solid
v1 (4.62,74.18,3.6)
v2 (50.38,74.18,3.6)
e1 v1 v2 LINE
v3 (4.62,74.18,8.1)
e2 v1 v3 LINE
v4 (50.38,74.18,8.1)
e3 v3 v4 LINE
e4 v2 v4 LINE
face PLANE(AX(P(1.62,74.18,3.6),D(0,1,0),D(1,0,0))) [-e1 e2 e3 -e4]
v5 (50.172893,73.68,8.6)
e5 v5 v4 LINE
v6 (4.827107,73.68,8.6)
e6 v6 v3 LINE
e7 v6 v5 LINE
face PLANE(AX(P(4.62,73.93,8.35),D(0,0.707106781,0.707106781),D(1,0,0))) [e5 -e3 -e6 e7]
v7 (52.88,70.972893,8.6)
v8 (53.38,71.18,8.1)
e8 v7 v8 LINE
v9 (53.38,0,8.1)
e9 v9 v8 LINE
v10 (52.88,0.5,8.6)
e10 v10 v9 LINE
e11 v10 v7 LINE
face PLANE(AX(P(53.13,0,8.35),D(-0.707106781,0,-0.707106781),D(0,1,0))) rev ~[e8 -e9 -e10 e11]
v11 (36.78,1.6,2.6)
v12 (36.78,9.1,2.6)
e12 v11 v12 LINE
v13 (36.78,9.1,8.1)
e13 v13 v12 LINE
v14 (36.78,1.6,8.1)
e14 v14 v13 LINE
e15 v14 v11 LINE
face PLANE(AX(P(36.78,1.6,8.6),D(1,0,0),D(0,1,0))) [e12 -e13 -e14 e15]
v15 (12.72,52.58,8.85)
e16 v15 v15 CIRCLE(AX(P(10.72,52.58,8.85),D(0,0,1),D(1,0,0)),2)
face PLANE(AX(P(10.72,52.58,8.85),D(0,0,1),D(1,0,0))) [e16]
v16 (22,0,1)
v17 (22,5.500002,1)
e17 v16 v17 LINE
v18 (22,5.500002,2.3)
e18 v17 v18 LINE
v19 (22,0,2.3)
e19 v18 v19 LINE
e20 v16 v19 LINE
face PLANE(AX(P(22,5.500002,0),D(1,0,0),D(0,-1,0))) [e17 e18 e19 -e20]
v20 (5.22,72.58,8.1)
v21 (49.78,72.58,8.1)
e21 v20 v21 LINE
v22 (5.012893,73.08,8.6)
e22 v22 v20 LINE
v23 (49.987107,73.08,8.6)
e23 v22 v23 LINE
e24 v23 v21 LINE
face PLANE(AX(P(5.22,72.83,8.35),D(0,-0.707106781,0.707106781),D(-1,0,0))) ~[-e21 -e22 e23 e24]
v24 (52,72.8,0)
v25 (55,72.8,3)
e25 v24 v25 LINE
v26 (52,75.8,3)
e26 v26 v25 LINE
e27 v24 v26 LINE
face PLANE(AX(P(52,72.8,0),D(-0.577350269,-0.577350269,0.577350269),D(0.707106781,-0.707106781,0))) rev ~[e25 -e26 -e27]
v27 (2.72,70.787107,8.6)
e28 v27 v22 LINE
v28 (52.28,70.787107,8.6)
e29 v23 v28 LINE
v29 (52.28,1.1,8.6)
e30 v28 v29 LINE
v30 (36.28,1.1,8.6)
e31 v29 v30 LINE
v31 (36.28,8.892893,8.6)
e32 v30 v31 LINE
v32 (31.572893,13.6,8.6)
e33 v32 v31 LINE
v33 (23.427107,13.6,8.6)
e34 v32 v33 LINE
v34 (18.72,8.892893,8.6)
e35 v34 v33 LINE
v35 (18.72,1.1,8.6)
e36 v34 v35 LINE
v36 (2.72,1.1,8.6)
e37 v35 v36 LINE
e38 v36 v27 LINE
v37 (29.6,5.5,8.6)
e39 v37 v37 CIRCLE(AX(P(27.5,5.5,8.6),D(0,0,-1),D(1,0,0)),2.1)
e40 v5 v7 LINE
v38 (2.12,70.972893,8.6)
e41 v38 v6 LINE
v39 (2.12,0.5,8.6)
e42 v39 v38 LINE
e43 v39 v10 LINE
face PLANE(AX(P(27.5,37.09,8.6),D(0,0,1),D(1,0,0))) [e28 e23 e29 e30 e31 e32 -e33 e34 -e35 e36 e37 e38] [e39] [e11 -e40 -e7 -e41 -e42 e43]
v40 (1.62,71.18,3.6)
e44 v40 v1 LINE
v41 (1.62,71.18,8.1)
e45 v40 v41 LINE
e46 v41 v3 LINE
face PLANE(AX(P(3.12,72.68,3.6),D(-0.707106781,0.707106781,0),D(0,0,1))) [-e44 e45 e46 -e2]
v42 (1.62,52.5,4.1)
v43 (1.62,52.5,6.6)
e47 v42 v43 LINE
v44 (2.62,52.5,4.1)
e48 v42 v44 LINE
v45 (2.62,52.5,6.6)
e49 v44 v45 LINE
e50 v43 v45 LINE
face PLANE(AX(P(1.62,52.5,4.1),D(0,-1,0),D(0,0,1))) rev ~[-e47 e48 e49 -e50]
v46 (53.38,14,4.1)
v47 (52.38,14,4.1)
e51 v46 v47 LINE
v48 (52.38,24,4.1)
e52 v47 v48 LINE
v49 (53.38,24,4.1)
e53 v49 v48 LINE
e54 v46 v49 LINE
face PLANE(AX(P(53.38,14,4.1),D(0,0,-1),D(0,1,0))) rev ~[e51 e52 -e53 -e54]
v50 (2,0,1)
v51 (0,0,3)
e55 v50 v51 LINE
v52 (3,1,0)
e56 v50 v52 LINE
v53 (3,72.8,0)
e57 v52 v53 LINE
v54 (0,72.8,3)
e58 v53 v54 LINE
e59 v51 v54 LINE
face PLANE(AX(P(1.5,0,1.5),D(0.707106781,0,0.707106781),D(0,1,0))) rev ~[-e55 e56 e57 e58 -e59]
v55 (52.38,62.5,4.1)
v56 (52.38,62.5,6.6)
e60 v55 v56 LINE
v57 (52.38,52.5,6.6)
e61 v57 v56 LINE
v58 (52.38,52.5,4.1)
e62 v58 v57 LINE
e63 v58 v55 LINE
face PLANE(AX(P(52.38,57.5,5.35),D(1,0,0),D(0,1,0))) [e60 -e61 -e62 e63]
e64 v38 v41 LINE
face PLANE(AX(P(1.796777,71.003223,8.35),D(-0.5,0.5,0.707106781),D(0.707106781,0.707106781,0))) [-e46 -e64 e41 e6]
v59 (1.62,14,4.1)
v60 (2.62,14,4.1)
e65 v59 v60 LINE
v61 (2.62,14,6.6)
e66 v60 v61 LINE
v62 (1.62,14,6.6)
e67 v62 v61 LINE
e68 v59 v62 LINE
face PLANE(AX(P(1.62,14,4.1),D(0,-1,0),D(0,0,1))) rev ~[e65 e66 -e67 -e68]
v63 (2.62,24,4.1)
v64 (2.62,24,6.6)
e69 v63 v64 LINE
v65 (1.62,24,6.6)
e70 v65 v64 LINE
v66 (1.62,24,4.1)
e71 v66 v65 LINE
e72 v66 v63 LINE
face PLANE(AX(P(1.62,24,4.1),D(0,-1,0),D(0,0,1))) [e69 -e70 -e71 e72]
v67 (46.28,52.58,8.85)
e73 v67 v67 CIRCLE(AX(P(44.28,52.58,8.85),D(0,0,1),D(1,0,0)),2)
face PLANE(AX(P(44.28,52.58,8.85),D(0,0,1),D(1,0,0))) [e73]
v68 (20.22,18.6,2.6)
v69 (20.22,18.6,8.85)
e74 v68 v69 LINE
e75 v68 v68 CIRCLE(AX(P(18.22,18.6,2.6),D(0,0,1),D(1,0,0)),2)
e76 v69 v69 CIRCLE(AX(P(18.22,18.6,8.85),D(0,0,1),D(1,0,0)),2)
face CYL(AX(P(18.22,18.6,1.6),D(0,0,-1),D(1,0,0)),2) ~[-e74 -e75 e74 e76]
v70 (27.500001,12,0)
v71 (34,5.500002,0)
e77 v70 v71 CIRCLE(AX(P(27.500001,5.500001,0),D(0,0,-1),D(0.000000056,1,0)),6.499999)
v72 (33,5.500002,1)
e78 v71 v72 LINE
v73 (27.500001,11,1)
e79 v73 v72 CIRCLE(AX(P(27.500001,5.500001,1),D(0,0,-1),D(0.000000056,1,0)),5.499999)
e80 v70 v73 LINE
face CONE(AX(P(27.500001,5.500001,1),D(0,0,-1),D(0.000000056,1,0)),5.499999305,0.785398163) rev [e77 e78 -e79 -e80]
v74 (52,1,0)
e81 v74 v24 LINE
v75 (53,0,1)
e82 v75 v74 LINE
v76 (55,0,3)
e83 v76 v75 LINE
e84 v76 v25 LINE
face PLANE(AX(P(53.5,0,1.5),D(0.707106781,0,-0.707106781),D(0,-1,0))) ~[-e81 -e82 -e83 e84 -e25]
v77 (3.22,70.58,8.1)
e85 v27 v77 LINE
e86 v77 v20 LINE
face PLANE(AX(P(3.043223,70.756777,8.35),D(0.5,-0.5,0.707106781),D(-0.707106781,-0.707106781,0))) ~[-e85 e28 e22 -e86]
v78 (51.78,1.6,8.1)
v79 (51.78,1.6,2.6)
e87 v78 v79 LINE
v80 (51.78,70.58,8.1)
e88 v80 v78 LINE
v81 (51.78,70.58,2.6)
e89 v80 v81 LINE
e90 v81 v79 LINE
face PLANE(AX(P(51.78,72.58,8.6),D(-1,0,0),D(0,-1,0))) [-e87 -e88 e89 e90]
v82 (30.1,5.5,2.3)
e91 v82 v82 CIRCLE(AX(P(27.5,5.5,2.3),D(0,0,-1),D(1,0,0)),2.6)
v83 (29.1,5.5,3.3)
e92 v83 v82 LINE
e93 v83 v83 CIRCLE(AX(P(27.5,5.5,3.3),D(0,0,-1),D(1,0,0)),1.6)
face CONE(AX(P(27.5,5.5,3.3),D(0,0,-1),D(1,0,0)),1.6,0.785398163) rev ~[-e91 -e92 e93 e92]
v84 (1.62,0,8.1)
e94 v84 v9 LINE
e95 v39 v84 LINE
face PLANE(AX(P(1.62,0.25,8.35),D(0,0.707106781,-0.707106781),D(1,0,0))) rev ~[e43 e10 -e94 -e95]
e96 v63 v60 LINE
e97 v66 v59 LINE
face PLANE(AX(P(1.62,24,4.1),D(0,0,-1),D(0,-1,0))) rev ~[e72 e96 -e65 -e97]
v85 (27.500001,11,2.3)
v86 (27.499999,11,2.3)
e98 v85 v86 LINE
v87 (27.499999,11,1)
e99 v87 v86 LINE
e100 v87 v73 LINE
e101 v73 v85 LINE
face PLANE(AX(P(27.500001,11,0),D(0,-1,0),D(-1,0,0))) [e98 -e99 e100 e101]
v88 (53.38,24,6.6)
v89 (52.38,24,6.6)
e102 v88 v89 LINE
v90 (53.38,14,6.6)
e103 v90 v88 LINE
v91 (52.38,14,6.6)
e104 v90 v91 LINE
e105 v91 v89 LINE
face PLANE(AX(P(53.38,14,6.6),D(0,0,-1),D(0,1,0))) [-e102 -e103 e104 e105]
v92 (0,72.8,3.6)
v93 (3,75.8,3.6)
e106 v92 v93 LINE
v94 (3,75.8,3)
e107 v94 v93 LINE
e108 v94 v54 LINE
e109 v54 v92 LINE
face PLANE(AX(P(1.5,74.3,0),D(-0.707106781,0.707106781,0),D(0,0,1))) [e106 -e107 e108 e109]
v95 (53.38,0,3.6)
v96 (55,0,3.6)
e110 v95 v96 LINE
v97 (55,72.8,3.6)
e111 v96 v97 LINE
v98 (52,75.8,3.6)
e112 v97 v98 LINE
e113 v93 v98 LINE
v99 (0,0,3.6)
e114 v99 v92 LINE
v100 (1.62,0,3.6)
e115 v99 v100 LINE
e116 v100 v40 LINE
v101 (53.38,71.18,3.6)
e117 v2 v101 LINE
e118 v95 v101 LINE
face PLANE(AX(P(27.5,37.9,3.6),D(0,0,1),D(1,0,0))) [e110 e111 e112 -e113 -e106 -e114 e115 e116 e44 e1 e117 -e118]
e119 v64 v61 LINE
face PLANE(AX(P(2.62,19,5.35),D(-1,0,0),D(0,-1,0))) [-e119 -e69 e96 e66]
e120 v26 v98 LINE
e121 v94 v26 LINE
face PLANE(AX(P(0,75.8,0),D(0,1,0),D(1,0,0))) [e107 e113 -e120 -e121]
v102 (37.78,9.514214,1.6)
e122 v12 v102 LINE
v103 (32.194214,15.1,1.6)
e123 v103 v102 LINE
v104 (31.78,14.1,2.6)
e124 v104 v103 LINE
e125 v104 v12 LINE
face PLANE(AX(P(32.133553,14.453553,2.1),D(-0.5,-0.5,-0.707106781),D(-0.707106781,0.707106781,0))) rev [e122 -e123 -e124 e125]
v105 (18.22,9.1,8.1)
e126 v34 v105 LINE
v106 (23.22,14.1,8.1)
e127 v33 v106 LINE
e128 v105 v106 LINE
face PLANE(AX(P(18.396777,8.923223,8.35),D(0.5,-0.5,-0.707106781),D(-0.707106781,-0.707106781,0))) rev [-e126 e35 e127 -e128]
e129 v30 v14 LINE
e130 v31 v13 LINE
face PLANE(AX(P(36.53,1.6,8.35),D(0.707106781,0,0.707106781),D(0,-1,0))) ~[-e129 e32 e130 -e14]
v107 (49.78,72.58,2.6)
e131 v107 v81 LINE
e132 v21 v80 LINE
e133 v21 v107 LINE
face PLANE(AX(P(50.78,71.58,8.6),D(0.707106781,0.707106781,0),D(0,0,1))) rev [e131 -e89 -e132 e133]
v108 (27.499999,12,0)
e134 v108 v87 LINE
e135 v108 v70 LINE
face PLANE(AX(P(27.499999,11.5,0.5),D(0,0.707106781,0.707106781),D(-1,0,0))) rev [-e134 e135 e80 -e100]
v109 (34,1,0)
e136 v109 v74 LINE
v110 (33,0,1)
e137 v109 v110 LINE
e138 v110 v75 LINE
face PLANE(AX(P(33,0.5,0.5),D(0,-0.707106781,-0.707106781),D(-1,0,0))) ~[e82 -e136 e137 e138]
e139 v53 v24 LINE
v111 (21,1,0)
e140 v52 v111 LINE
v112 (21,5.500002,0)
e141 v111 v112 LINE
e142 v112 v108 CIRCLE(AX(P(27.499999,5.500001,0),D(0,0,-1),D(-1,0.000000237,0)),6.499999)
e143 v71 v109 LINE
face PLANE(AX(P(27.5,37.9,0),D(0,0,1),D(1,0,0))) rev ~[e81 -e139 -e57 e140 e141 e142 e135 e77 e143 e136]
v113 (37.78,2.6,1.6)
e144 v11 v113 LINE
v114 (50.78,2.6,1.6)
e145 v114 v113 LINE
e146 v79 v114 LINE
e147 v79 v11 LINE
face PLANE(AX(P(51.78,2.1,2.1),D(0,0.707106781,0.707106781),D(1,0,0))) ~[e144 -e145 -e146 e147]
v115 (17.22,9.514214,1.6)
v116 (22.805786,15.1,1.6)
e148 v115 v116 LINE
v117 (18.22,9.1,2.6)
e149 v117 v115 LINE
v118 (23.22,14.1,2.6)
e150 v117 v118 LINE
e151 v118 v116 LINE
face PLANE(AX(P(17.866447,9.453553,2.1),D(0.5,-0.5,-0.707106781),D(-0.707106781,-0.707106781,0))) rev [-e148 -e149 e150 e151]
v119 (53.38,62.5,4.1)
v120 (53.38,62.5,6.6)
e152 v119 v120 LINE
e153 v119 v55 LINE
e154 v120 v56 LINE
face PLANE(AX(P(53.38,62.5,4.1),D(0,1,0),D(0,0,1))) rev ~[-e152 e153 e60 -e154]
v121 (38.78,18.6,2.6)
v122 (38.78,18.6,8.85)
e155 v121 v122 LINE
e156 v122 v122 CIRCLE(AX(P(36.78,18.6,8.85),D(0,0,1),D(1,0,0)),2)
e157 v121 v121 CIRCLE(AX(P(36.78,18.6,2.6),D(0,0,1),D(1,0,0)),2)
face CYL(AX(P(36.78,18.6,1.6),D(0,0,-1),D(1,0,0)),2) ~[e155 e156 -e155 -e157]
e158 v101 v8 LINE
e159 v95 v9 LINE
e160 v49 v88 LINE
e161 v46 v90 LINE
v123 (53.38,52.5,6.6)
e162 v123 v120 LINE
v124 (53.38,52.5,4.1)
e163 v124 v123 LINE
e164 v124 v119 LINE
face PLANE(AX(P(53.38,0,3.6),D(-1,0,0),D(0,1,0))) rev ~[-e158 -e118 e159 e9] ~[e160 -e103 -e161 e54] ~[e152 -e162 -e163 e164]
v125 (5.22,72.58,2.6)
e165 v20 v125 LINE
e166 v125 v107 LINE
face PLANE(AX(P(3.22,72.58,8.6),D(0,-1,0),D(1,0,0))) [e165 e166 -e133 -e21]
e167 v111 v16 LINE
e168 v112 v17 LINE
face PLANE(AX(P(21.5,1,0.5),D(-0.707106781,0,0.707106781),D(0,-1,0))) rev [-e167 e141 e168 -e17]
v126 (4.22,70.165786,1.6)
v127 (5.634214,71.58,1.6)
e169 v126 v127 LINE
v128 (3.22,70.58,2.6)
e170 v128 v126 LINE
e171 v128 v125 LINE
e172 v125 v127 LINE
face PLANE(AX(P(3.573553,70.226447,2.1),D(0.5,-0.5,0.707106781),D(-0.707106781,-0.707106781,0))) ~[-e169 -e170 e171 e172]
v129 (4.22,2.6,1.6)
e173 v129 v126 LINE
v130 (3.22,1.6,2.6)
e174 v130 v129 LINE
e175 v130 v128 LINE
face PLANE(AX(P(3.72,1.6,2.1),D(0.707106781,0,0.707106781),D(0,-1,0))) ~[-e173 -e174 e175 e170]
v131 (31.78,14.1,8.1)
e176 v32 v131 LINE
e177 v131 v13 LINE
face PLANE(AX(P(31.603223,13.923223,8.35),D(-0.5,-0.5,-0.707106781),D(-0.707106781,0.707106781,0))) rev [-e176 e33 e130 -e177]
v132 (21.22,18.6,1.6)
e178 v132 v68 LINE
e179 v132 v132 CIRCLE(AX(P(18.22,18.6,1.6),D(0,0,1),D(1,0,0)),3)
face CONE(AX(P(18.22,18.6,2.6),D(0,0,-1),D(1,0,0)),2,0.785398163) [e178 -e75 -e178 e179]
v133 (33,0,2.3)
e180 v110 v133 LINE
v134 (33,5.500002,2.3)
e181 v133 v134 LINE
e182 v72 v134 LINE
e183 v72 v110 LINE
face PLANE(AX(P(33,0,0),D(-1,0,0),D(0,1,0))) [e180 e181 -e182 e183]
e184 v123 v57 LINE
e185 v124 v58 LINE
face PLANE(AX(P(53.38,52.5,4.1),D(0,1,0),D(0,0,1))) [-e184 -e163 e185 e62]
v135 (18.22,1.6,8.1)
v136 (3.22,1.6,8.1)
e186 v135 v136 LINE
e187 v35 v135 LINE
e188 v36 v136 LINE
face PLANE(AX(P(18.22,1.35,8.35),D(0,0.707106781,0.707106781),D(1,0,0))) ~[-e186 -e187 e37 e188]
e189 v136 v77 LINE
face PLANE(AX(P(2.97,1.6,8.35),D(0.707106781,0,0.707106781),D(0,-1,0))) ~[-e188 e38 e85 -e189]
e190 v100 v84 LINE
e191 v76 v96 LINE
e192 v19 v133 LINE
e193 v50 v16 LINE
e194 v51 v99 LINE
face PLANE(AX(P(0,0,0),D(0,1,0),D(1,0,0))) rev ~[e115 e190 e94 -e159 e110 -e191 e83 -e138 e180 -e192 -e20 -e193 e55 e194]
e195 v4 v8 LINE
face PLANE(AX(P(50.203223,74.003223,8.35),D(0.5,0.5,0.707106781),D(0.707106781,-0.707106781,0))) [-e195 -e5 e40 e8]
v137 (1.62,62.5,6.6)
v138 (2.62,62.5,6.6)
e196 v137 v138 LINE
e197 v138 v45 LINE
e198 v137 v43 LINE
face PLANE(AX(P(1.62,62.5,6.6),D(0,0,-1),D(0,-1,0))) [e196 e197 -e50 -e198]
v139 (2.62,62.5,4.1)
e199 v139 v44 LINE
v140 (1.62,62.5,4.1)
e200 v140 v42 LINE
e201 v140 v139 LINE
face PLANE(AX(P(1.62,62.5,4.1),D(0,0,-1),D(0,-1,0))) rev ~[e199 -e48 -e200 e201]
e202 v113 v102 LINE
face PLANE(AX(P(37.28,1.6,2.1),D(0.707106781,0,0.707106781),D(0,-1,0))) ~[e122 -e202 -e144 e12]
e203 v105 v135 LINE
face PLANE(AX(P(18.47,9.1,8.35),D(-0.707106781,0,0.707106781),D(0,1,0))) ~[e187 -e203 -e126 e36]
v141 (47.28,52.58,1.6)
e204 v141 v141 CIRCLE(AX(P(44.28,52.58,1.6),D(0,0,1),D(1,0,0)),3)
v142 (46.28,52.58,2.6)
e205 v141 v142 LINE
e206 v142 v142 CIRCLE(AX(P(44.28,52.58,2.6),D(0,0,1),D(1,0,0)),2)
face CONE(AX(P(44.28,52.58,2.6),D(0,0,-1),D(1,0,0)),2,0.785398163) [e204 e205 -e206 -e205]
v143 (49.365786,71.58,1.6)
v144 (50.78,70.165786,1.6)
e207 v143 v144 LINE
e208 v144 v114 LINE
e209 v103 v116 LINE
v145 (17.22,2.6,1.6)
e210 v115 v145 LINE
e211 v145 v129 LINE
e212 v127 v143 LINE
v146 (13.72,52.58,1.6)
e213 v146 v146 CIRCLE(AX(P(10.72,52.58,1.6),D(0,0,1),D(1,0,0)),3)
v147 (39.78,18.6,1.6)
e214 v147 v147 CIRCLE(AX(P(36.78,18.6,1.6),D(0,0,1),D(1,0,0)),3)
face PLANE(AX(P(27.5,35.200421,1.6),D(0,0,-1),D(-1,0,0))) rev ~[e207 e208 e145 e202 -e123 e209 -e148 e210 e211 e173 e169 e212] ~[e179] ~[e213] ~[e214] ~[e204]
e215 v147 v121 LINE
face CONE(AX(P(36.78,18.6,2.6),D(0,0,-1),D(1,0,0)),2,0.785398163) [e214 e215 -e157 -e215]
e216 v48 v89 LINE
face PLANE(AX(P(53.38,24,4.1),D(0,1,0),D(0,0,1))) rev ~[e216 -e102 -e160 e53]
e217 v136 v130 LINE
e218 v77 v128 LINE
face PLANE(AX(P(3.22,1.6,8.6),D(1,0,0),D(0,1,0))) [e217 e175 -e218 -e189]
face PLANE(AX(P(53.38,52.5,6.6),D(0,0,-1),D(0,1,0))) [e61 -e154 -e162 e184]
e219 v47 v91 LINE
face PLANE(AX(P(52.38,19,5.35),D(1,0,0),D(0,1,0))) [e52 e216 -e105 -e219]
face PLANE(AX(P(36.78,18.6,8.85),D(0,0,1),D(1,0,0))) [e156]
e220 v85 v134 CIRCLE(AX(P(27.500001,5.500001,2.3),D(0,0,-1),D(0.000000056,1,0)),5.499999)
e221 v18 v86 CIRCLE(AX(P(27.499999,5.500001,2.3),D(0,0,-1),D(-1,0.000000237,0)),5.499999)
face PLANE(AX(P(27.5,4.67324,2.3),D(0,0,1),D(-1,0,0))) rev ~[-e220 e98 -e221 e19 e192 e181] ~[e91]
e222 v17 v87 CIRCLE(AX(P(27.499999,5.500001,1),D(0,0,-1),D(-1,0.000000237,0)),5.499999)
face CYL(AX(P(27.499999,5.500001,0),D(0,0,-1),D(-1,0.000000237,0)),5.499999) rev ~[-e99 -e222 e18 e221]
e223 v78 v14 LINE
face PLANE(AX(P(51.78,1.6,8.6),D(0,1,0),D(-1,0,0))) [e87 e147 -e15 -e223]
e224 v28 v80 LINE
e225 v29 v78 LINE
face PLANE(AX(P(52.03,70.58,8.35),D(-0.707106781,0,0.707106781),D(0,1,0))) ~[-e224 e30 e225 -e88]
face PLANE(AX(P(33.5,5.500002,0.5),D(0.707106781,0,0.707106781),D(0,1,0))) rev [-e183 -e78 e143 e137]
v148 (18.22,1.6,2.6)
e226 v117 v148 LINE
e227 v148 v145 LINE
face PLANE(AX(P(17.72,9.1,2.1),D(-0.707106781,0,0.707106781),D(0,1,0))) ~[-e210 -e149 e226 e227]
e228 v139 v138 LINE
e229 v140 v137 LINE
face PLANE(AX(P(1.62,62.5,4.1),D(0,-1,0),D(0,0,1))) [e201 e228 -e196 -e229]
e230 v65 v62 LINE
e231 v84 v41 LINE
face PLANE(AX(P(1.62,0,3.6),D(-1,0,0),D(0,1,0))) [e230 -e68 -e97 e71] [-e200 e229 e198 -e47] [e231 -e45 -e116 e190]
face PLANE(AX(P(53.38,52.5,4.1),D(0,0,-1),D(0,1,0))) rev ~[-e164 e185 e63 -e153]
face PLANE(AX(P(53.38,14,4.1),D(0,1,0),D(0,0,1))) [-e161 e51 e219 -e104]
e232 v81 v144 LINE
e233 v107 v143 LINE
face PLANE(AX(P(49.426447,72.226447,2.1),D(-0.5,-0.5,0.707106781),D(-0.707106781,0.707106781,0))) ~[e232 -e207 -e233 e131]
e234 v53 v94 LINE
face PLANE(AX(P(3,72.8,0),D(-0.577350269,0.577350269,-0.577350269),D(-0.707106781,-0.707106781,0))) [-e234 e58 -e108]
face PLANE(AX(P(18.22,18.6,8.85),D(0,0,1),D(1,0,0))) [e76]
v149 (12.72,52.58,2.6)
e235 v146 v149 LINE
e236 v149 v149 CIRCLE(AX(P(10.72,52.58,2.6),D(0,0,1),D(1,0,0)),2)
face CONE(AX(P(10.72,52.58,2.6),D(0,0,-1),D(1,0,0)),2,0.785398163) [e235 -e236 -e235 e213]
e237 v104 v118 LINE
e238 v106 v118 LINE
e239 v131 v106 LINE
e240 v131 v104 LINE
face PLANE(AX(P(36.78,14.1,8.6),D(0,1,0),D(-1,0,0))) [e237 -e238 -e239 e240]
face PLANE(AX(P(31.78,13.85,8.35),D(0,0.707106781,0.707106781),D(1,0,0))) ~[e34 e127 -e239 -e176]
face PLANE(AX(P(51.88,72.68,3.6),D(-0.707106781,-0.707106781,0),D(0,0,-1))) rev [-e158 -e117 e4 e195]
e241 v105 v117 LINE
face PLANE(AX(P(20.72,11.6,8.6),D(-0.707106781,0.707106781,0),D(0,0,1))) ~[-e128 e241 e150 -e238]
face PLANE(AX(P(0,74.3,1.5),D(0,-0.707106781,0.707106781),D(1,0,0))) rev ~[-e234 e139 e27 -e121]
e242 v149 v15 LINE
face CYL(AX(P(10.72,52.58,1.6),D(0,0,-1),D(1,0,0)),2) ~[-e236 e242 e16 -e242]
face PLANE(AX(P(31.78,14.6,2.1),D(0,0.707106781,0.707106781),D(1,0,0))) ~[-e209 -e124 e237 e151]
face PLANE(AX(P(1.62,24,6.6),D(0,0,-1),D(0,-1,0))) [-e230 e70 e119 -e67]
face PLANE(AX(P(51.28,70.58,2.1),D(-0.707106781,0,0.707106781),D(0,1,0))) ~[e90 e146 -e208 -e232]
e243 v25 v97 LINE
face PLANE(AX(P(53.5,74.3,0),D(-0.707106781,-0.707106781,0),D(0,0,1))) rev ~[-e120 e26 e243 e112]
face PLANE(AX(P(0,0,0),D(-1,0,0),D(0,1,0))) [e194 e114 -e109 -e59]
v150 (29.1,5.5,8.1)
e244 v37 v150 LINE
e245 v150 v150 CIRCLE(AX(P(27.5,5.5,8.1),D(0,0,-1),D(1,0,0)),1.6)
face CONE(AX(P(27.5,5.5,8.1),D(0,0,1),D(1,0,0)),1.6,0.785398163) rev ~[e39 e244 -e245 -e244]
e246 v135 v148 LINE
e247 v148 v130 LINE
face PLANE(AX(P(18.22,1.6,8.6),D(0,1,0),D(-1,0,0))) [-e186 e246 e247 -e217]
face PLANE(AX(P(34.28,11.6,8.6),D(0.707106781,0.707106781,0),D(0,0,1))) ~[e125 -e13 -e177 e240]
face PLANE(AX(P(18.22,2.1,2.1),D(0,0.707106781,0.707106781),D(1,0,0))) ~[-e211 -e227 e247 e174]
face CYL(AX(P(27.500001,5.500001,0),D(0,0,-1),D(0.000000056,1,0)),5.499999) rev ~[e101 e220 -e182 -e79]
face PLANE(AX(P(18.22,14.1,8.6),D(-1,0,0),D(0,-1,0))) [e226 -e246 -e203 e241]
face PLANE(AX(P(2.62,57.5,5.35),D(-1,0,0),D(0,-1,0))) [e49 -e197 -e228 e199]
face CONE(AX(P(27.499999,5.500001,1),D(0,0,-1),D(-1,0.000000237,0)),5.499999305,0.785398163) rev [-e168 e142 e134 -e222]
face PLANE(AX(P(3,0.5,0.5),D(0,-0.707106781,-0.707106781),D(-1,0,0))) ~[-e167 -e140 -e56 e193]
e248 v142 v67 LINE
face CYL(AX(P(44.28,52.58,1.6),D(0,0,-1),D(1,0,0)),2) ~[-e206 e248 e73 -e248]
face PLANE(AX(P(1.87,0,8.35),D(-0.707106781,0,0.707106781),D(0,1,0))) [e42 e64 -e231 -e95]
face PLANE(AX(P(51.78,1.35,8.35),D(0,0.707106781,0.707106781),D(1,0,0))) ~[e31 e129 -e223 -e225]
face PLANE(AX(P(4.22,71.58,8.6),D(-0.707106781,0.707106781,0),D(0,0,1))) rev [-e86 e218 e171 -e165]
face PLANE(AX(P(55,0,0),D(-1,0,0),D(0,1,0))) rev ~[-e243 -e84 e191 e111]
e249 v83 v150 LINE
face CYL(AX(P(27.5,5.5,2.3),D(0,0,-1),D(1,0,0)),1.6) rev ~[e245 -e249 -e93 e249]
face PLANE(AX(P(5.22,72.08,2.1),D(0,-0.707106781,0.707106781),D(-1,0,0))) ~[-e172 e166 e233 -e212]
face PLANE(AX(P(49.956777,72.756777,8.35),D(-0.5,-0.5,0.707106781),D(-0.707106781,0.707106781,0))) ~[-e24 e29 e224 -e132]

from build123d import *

# Parameters (mm, degrees)
SKETCH_W        = 55
SKETCH_H        = 75.8
PAD_DEPTH       = 3.6
SKETCH001_W     = 51.76
SKETCH001_H     = 74.18
PAD001_DEPTH    = 5
POCKET_DEPTH    = 7
SKETCH003_R     = 2
PAD002_DEPTH    = 7.25
SKETCH004_W     = 10
SKETCH004_H     = 2.5
POCKET001_DEPTH = 1
SKETCH005_W     = 10
SKETCH005_H     = 2.5
POCKET002_DEPTH = 1
POCKET003_DEPTH = 2.3
SKETCH007_R     = 1.6
POCKET004_DEPTH = 6.551
CHAMFER_SIZE    = 5
CHAMFER001_SIZE = 2
CHAMFER002_SIZE = 1
CHAMFER003_SIZE = 3
CHAMFER004_SIZE = 0.5
CHAMFER005_SIZE = 1
CHAMFER006_SIZE = 3
CHAMFER007_SIZE = 1
CHAMFER008_SIZE = 1


with BuildPart() as part:
    # Sketch → Pad (new body)
    with BuildSketch(Plane.XY):
        with Locations((27.5, 37.9)):
            Rectangle(SKETCH_W, SKETCH_H)
    extrude(amount=PAD_DEPTH)

    # Sketch001 → Pad001 (new body)
    with BuildSketch(Plane.XY.offset(3.6)):
        with Locations((27.5, 37.09)):
            Rectangle(SKETCH001_W, SKETCH001_H)
    extrude(amount=PAD001_DEPTH)

    # Sketch002 → Pocket (cut)
    with BuildSketch(Plane.XY.offset(8.6)):
        Polygon((18.22, 1.6), (3.22, 1.6), (3.22, 72.58), (51.78, 72.58), (51.78, 1.6), (36.78, 1.6), (36.78, 14.1), (18.22, 14.1), align=None)
    extrude(amount=-POCKET_DEPTH, mode=Mode.SUBTRACT)

    # Sketch003 → Pad002 (new body)
    with BuildSketch(Plane.XY.offset(1.6)):
        with Locations((10.72, 52.58)):
            Circle(SKETCH003_R)
        with Locations((44.28, 52.58)):
            Circle(SKETCH003_R)
        with Locations((18.22, 18.6)):
            Circle(SKETCH003_R)
        with Locations((36.78, 18.6)):
            Circle(SKETCH003_R)
    extrude(amount=PAD002_DEPTH)

    # Sketch004 → Pocket001 (cut)
    with BuildSketch(Plane.YZ.offset(53.38)):
        with Locations((19, 5.35)):
            Rectangle(SKETCH004_W, SKETCH004_H)
        with Locations((57.5, 5.35)):
            Rectangle(SKETCH004_W, SKETCH004_H)
    extrude(amount=-POCKET001_DEPTH, mode=Mode.SUBTRACT)

    # Sketch005 → Pocket002 (cut)
    with BuildSketch(Plane(origin=(1.62, 0, 0), x_dir=(0, -1, 0), z_dir=(-1, 0, 0))):
        with Locations((-57.5, 5.35)):
            Rectangle(SKETCH005_W, SKETCH005_H)
        with Locations((-19, 5.35)):
            Rectangle(SKETCH005_W, SKETCH005_H)
    extrude(amount=-POCKET002_DEPTH, mode=Mode.SUBTRACT)

    # Sketch006 → Pocket003 (cut)
    with BuildSketch(Plane(origin=(0, 0, 0), x_dir=(1, 0, 0), z_dir=(0, 0, -1))):
        with BuildLine():
            Line((22, 0), (33, 0))
            Line((33, 0), (33, -5.500002))
            ThreePointArc((27.500001, -11), (31.389087, -9.389088), (33, -5.500002))
            Line((27.500001, -11), (27.499999, -11))
            ThreePointArc((22, -5.500002), (23.610913, -9.389088), (27.499999, -11))
            Line((22, -5.500002), (22, 0))
        make_face()
    extrude(amount=-POCKET003_DEPTH, mode=Mode.SUBTRACT)

    # Sketch007 → Pocket004 (cut, through all)
    with BuildSketch(Plane(origin=(0, 0, 2.3), x_dir=(1, 0, 0), z_dir=(0, 0, -1))):
        with Locations((27.5, -5.5)):
            Circle(SKETCH007_R)
    extrude(amount=-POCKET004_DEPTH, mode=Mode.SUBTRACT)

    # Chamfer
    chamfer_edges = [part.edges().sort_by_distance(p)[0] for p in [
        (18.22, 14.1, 5.1),
        (36.78, 14.1, 5.1),
    ]]
    chamfer(chamfer_edges, length=CHAMFER_SIZE)

    # Chamfer001
    chamfer001_edges = [part.edges().sort_by_distance(p)[0] for p in [
        (3.22, 72.58, 5.1),
        (51.78, 72.58, 5.1),
    ]]
    chamfer(chamfer001_edges, length=CHAMFER001_SIZE)

    # Chamfer002
    chamfer002_edges = [part.edges().sort_by_distance(p)[0] for p in [
        (3.22, 36.09, 1.6),
        (4.22, 71.58, 1.6),
        (10.72, 1.6, 1.6),
        (27.5, 72.58, 1.6),
        (18.22, 5.35, 1.6),
        (50.78, 71.58, 1.6),
        (20.72, 11.6, 1.6),
        (51.78, 36.09, 1.6),
        (27.5, 14.1, 1.6),
        (44.28, 1.6, 1.6),
        (34.28, 11.6, 1.6),
        (36.78, 5.35, 1.6),
        (8.72, 52.58, 1.6),
        (42.28, 52.58, 1.6),
        (34.78, 18.6, 1.6),
        (16.22, 18.6, 1.6),
    ]]
    chamfer(chamfer002_edges, length=CHAMFER002_SIZE)

    # Chamfer003
    chamfer003_edges = [part.edges().sort_by_distance(p)[0] for p in [
        (53.38, 74.18, 6.1),
        (1.62, 74.18, 6.1),
    ]]
    chamfer(chamfer003_edges, length=CHAMFER003_SIZE)

    # Chamfer004
    chamfer004_edges = [part.edges().sort_by_distance(p)[0] for p in [
        (1.62, 35.59, 8.6),
        (3.12, 72.68, 8.6),
        (27.5, 0, 8.6),
        (27.5, 74.18, 8.6),
        (53.38, 35.59, 8.6),
        (51.88, 72.68, 8.6),
        (51.78, 36.09, 8.6),
        (50.78, 71.58, 8.6),
        (44.28, 1.6, 8.6),
        (27.5, 72.58, 8.6),
        (36.78, 5.35, 8.6),
        (4.22, 71.58, 8.6),
        (34.28, 11.6, 8.6),
        (3.22, 36.09, 8.6),
        (27.5, 14.1, 8.6),
        (10.72, 1.6, 8.6),
        (20.72, 11.6, 8.6),
        (18.22, 5.35, 8.6),
        (25.9, 5.5, 8.6),
    ]]
    chamfer(chamfer004_edges, length=CHAMFER004_SIZE)

    # Chamfer005
    chamfer005_edges = [part.edges().sort_by_distance(p)[0] for p in [
        (25.9, 5.5, 2.3),
    ]]
    chamfer(chamfer005_edges, length=CHAMFER005_SIZE)

    # Chamfer006
    chamfer006_edges = [part.edges().sort_by_distance(p)[0] for p in [
        (0, 75.8, 1.8),
        (55, 75.8, 1.8),
        (27.5, 75.8, 0),
        (55, 37.9, 0),
        (0, 37.9, 0),
    ]]
    chamfer(chamfer006_edges, length=CHAMFER006_SIZE)

    # Chamfer007
    chamfer007_edges = [part.edges().sort_by_distance(p)[0] for p in [
        (12.5, 0, 0),
        (42.5, 0, 0),
    ]]
    chamfer(chamfer007_edges, length=CHAMFER007_SIZE)

    # Chamfer008
    chamfer008_edges = [part.edges().sort_by_distance(p)[0] for p in [
        (23.610913, 9.389088, 0),
    ]]
    chamfer(chamfer008_edges, length=CHAMFER008_SIZE)


solid = part.part
